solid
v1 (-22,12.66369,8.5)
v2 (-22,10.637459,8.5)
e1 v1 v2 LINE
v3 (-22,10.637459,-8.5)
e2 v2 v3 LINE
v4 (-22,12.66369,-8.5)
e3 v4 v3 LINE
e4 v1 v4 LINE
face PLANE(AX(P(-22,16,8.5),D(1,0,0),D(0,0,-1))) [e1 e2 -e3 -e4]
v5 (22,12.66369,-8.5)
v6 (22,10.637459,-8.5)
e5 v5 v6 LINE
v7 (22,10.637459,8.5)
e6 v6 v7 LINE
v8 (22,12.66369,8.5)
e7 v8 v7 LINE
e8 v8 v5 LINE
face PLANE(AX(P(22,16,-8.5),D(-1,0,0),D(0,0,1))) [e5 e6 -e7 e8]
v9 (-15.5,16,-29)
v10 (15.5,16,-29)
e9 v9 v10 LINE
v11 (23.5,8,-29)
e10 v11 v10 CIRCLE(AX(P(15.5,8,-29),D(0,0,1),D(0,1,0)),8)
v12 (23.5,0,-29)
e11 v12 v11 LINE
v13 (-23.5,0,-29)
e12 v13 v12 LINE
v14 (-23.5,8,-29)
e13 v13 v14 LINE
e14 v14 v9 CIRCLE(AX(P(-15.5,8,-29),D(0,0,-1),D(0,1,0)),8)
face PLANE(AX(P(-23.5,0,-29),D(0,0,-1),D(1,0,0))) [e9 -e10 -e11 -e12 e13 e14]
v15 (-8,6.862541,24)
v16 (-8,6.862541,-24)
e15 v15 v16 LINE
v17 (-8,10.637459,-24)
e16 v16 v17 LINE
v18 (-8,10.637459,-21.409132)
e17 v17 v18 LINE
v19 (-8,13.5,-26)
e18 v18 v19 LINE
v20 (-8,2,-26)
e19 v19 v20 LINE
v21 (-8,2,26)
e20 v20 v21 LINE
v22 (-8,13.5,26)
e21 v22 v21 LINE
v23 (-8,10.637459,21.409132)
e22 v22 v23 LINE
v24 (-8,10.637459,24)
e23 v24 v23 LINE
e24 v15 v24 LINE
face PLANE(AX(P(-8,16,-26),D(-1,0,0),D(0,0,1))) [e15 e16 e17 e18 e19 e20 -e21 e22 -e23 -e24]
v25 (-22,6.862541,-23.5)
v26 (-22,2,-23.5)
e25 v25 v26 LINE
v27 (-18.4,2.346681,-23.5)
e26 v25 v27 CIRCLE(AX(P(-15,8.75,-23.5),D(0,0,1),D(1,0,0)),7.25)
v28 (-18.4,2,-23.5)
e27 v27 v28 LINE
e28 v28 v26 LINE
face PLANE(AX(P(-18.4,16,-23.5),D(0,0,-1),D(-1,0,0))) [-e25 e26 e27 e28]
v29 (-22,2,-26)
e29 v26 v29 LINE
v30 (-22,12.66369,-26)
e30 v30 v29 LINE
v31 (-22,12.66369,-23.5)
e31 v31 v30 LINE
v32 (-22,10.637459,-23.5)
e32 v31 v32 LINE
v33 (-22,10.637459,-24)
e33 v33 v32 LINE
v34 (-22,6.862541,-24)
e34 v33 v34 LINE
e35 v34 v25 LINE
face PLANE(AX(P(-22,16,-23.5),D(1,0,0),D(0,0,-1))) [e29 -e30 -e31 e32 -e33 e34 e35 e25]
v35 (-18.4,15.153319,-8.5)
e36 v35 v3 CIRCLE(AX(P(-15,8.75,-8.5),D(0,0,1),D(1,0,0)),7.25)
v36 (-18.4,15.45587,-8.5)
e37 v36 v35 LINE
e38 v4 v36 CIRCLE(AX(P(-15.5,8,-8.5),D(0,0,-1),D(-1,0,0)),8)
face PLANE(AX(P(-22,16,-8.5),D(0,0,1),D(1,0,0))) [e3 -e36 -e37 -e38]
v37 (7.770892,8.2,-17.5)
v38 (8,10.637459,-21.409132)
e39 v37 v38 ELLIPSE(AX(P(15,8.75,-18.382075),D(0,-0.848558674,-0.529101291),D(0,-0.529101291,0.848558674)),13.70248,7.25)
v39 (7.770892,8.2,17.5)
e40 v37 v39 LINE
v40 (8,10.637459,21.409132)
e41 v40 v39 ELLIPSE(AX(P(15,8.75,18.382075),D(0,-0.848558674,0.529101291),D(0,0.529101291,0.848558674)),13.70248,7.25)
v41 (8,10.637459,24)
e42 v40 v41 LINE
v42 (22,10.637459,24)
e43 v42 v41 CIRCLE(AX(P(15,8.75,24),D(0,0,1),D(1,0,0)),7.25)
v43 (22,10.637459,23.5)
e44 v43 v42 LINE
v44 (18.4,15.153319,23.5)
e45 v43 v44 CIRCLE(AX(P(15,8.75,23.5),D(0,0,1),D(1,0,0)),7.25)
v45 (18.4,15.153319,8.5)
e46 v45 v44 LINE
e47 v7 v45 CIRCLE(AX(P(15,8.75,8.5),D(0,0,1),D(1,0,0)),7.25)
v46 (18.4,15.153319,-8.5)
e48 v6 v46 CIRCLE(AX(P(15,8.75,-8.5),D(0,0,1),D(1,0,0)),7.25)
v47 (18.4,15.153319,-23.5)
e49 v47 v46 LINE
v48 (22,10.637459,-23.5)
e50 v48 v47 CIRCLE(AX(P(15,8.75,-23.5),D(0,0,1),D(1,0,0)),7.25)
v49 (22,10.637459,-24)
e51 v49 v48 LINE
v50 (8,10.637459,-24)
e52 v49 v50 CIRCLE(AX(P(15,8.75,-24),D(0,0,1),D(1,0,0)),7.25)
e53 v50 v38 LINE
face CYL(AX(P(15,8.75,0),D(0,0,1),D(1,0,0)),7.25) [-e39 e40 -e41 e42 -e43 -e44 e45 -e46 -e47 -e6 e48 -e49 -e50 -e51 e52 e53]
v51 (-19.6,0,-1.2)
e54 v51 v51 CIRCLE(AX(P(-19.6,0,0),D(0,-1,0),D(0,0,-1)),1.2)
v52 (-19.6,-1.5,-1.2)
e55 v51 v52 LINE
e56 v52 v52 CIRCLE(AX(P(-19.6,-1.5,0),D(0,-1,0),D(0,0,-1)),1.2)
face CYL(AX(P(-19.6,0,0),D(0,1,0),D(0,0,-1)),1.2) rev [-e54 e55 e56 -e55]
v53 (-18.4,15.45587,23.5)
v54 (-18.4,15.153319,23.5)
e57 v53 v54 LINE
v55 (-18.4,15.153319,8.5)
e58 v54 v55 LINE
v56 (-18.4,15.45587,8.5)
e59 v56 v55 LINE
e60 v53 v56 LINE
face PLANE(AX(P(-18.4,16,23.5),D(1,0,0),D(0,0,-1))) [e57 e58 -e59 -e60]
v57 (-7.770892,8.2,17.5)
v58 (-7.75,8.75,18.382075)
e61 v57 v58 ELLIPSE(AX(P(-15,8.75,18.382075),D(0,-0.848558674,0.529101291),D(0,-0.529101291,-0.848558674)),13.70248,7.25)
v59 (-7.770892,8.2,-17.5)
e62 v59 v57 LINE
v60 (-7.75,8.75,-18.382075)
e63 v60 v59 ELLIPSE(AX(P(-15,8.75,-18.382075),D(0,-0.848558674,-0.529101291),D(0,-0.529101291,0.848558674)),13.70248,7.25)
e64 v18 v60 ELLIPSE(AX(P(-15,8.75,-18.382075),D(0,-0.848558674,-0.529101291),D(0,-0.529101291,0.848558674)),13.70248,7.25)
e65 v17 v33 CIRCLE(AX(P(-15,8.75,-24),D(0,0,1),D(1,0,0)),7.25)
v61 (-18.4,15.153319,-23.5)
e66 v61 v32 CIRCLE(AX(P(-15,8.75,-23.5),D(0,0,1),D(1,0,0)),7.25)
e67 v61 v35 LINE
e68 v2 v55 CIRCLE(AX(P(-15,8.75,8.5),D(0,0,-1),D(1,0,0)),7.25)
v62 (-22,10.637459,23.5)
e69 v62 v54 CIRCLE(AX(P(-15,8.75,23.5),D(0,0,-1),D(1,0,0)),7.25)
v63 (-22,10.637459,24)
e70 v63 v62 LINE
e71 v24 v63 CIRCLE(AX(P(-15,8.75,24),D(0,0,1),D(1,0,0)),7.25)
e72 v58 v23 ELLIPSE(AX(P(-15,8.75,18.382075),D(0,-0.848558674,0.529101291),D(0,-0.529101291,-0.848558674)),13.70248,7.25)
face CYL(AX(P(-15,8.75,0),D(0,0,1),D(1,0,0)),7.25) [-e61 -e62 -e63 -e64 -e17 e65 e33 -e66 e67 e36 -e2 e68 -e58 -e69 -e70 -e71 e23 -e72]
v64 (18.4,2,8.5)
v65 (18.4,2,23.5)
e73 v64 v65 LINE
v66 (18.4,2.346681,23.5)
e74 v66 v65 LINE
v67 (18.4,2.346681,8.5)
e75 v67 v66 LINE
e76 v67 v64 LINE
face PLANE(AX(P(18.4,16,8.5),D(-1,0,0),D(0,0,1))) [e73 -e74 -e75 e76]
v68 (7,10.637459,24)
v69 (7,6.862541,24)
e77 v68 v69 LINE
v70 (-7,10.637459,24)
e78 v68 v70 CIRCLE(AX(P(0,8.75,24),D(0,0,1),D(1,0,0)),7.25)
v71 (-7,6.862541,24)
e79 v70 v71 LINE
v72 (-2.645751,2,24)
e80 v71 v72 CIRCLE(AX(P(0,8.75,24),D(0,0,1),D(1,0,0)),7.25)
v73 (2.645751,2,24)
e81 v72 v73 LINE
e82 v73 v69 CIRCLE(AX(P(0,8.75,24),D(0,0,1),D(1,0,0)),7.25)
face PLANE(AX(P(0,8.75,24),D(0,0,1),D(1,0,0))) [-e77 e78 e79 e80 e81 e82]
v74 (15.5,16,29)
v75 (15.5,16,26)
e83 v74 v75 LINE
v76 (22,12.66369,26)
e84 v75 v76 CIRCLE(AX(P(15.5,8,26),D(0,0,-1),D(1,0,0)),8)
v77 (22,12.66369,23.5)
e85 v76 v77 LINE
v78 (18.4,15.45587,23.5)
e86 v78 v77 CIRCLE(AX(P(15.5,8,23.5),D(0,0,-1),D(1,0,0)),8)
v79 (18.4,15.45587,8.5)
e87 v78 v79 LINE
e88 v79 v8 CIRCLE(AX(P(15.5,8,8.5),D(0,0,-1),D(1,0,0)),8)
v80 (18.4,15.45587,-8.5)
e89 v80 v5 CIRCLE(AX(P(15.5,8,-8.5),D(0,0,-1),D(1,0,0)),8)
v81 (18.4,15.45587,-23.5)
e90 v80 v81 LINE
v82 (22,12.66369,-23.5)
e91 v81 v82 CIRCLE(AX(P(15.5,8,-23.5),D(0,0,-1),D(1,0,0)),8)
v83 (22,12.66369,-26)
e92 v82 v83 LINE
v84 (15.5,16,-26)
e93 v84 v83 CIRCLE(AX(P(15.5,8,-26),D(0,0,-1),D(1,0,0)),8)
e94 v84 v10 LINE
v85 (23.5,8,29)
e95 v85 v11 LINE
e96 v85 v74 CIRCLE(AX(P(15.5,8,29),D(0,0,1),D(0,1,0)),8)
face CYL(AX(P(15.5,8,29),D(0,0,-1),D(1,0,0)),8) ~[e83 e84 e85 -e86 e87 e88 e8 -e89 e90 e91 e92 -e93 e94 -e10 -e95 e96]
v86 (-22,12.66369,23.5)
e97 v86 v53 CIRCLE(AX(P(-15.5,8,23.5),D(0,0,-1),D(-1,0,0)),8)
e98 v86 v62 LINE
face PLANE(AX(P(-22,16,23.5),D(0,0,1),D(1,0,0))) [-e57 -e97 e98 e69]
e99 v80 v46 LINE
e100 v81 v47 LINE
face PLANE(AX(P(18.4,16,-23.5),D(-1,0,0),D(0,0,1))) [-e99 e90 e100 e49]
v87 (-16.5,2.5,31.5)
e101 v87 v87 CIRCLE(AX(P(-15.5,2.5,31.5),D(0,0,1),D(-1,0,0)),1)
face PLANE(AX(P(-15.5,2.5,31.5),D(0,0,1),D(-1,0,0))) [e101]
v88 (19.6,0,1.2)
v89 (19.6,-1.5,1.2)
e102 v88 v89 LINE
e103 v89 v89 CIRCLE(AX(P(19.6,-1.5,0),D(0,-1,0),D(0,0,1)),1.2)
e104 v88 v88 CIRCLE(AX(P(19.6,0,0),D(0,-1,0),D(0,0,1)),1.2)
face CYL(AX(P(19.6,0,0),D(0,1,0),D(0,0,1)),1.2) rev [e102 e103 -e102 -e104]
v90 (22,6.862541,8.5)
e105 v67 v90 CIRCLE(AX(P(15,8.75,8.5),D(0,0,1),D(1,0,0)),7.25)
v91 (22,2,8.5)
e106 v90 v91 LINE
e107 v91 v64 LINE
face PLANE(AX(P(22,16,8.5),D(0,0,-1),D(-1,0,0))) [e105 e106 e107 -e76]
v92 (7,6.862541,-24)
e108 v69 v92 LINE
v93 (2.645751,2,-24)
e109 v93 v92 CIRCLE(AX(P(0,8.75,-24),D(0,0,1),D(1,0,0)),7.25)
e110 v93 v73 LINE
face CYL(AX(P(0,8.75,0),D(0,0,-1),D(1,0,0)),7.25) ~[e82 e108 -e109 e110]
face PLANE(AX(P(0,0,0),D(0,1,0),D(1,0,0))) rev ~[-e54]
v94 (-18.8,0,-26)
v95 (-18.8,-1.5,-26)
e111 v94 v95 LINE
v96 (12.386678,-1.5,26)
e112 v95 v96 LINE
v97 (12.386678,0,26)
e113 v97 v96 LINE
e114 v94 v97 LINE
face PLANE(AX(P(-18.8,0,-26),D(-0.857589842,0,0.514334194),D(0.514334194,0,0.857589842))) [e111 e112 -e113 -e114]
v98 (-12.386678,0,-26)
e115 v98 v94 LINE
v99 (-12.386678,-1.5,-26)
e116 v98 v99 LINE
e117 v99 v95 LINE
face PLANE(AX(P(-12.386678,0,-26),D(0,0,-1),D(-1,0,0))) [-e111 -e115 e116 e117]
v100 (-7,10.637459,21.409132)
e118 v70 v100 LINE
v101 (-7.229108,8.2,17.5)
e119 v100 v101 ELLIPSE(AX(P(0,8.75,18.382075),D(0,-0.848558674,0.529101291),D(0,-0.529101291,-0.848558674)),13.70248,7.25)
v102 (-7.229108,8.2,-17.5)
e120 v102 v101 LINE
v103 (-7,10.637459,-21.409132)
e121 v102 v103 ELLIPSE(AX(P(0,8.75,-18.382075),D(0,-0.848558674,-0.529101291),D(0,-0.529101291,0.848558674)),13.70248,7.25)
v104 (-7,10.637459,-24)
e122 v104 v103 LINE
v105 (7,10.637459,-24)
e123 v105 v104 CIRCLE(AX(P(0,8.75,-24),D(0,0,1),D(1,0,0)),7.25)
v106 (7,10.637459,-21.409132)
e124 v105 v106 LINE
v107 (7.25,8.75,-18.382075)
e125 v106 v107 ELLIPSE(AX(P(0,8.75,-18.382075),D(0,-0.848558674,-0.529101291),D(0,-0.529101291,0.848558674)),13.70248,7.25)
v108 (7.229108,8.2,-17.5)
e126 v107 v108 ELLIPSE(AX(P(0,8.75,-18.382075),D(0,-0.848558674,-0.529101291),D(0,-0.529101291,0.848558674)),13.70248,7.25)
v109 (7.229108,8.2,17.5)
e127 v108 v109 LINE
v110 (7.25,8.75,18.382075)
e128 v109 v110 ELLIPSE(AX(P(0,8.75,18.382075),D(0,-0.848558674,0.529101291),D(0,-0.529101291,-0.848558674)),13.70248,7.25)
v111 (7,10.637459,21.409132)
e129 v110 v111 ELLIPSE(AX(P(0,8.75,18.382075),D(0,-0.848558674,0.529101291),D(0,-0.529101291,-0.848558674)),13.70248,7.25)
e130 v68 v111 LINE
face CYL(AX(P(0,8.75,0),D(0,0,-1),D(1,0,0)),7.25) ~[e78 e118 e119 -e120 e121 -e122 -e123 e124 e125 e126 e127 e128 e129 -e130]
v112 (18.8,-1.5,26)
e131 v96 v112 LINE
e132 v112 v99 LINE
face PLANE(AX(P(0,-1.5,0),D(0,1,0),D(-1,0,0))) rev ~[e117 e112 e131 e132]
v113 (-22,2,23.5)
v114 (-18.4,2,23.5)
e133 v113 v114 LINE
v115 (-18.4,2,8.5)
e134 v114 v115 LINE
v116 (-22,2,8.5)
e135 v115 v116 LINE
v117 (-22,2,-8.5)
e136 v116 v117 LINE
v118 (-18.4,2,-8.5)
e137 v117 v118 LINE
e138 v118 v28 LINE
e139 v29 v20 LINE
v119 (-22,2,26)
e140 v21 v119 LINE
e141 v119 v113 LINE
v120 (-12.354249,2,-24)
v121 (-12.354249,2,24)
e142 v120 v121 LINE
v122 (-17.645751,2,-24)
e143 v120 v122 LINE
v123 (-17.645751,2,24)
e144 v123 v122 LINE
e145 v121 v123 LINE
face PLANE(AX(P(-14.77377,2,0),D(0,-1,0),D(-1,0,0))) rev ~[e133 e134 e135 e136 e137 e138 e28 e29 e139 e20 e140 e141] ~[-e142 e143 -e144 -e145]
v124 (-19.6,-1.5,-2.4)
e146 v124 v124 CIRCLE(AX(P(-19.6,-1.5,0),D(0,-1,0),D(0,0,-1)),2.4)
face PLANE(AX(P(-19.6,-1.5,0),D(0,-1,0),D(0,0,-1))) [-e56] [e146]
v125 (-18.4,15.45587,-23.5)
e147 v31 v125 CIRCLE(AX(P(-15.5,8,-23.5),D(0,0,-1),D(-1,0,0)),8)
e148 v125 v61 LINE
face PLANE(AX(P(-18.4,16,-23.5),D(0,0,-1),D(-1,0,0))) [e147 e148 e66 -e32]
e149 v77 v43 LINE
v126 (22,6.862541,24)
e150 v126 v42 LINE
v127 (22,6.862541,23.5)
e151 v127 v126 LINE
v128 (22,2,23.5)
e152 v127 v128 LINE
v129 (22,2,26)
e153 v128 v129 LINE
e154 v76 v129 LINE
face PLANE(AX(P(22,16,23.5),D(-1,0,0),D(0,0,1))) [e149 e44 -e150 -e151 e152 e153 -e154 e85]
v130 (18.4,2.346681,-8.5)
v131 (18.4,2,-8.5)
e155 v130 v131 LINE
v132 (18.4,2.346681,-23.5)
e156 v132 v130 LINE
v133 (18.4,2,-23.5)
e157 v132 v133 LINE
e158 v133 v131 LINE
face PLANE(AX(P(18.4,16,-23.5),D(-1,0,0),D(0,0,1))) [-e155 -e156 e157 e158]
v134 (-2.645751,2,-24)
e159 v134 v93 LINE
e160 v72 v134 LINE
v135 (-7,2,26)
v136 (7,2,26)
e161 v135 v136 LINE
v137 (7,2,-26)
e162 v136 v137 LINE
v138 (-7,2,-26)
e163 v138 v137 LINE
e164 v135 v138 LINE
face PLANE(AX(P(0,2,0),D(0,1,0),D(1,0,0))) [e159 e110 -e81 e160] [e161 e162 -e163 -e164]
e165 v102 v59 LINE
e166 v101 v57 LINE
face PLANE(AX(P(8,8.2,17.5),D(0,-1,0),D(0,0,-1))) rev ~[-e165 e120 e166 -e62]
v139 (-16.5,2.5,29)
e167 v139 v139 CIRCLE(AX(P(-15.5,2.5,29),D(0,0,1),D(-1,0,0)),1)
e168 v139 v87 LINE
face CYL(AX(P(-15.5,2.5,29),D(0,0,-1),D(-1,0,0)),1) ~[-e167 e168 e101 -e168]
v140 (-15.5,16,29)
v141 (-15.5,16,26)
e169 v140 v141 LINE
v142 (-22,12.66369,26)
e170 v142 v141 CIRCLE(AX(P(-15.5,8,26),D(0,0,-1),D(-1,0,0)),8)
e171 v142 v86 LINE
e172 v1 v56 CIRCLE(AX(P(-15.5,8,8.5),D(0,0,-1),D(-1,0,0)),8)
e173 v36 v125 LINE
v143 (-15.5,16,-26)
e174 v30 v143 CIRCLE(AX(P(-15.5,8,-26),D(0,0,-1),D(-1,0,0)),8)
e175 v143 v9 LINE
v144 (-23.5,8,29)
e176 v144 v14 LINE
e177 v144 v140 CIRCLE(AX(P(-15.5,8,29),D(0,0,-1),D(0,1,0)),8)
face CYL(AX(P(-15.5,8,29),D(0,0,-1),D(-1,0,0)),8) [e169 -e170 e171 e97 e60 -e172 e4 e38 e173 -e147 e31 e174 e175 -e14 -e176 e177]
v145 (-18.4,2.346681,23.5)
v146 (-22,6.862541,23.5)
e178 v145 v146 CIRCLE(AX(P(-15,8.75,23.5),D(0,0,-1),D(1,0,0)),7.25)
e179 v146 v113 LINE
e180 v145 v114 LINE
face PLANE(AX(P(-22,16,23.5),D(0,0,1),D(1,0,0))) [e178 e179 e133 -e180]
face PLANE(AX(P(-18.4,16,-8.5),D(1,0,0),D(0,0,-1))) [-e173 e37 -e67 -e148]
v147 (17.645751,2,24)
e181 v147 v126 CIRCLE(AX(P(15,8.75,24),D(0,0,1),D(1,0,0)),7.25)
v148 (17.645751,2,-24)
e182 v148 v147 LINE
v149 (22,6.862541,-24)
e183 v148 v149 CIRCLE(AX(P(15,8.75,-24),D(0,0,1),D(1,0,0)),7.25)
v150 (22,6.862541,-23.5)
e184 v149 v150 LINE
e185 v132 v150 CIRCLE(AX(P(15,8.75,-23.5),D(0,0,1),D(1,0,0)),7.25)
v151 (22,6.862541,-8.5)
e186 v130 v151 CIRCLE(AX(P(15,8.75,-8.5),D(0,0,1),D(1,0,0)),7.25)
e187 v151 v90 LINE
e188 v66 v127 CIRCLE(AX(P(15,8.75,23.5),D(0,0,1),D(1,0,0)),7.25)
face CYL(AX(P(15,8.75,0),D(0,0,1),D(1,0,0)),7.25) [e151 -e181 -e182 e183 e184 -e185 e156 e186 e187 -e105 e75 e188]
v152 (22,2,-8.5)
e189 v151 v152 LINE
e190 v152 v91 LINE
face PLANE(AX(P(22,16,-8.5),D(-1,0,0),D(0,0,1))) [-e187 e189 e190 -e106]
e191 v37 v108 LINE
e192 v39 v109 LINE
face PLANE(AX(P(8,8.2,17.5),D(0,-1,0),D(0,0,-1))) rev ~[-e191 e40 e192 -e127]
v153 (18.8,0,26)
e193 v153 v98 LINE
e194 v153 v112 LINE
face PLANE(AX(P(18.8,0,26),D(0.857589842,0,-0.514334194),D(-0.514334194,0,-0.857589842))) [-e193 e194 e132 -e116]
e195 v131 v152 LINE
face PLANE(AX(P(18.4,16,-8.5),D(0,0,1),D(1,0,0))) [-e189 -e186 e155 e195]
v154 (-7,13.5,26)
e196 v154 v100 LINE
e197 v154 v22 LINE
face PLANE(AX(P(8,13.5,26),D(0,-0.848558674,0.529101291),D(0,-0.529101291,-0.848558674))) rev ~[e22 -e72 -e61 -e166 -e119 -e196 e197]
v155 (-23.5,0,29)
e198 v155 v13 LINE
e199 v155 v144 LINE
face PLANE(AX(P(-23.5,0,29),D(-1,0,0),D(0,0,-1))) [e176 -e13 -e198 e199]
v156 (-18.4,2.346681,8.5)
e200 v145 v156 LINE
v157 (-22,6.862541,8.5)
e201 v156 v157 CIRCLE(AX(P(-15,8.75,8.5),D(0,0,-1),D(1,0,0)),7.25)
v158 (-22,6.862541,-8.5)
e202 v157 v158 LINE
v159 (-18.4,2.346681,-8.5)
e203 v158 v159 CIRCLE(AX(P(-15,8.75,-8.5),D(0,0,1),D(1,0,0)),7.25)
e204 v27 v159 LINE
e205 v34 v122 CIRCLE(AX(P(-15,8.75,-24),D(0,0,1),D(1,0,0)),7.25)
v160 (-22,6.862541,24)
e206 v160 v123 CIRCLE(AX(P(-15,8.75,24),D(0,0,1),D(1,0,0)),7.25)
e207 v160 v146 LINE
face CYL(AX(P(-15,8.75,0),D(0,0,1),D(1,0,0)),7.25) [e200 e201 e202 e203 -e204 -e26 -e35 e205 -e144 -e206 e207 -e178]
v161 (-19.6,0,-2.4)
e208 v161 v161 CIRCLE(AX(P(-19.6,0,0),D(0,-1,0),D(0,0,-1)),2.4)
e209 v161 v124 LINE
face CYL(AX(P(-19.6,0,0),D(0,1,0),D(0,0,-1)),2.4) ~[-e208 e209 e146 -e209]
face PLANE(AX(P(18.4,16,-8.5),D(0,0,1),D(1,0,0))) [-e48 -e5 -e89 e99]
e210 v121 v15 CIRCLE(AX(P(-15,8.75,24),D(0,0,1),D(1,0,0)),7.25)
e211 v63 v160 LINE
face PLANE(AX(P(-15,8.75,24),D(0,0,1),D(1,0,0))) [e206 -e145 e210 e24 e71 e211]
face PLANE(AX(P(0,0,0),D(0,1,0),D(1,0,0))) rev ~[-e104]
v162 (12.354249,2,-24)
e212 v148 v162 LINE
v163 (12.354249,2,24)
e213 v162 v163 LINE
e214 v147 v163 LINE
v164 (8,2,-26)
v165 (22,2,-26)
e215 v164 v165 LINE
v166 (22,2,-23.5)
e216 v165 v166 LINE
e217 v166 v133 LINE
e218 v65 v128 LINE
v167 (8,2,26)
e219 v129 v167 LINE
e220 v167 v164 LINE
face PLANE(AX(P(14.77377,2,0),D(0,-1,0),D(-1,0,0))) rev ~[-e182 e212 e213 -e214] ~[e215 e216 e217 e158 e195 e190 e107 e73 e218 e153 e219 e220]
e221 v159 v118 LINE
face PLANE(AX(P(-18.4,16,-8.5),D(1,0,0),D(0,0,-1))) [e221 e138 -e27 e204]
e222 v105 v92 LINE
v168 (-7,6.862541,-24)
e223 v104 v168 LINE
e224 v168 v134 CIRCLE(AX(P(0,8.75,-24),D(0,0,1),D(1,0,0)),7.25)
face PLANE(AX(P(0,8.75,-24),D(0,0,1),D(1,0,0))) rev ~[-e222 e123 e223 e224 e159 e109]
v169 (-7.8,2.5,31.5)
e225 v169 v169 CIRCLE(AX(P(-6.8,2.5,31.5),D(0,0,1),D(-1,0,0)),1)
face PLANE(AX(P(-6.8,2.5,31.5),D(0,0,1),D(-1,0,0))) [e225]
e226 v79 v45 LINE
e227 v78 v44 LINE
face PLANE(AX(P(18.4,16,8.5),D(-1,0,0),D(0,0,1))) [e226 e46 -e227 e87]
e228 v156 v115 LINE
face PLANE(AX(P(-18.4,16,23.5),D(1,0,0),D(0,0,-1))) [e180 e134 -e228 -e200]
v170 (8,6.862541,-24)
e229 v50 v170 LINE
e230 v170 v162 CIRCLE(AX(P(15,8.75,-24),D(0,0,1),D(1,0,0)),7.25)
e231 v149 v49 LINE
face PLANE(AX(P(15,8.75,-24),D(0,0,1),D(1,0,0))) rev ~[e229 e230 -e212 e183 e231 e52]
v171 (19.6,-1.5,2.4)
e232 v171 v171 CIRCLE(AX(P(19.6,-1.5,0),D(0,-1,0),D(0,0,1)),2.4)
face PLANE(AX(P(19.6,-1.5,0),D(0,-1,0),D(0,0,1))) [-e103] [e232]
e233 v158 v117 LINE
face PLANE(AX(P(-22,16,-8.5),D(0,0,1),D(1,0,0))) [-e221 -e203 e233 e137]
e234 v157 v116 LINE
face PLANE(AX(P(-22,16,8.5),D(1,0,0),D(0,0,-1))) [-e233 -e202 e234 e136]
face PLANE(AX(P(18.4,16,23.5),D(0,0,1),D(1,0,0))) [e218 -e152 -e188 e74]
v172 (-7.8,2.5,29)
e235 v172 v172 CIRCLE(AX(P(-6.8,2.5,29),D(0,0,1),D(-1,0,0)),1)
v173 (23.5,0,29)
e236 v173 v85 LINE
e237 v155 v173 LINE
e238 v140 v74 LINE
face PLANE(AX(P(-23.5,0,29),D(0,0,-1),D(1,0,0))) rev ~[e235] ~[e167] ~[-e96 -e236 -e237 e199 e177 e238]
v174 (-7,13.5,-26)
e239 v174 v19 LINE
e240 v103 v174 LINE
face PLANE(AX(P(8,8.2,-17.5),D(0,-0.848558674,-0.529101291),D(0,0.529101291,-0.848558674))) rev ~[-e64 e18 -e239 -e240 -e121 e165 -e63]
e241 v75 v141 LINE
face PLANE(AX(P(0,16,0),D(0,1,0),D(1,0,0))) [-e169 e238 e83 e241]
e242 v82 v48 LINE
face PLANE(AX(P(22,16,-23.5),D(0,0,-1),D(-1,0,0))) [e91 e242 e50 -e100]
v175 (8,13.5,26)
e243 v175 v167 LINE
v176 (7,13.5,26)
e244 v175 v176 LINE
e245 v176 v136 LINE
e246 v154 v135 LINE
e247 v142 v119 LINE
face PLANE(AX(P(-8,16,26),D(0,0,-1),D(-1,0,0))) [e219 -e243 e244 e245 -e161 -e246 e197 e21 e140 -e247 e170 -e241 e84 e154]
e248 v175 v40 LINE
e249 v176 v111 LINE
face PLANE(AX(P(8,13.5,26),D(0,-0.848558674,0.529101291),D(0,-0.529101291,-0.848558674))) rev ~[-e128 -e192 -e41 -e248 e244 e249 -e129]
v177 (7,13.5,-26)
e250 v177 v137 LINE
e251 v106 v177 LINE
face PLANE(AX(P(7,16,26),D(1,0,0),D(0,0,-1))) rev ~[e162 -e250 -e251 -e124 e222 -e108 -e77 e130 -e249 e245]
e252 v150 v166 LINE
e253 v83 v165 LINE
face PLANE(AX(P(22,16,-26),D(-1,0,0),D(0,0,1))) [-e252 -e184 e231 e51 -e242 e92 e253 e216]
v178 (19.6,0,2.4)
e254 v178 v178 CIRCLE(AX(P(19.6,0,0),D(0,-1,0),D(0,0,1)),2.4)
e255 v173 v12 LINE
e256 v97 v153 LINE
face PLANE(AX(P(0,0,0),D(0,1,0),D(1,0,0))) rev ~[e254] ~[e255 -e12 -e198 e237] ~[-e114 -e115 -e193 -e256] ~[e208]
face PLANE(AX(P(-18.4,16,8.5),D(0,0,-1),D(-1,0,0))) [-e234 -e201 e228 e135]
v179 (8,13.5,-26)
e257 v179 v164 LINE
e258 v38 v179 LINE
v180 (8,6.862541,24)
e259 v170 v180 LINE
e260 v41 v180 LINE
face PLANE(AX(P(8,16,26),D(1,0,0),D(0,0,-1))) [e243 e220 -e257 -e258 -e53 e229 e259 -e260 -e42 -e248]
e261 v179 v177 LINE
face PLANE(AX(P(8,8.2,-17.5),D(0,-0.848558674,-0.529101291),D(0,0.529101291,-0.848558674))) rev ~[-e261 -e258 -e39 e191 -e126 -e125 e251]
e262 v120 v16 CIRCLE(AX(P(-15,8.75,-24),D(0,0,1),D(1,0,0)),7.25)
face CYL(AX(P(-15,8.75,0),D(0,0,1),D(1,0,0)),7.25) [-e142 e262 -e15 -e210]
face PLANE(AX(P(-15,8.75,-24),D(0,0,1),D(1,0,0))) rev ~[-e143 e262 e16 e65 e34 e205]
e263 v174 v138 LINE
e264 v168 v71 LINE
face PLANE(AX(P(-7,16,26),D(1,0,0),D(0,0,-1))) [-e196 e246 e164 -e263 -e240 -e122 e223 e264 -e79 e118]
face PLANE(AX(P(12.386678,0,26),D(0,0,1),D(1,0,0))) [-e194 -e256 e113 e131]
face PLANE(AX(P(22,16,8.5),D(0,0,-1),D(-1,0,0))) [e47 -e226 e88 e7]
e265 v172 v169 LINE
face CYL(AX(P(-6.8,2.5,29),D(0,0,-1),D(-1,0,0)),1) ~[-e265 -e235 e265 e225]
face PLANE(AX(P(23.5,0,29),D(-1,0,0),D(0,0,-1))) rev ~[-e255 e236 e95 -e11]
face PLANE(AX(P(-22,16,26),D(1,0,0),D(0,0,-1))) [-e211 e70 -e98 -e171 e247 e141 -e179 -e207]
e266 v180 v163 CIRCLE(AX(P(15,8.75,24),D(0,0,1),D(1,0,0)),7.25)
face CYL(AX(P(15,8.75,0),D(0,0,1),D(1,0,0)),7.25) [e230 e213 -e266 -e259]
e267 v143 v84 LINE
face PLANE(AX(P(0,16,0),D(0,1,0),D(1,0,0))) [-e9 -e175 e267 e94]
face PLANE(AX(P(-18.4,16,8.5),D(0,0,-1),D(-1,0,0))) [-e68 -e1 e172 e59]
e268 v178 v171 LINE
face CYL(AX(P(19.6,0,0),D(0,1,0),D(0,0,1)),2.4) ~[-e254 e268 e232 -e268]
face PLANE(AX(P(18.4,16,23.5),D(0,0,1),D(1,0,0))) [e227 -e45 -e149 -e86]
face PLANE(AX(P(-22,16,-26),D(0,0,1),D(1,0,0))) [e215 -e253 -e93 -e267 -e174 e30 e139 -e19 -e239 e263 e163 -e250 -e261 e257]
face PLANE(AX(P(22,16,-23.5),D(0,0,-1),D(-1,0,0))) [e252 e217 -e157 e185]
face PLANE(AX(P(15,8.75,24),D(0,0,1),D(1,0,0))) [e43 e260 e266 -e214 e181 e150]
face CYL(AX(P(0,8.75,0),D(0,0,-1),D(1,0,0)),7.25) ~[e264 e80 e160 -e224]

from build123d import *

# Parameters (mm, degrees)
SKETCH1_W           = 47
SKETCH1_H           = 58
BOSS_EXTRUDE1_DEPTH = 16
FILLET1_R           = 8
SKETCH2_W           = 14
SKETCH2_H           = 52
CUT_EXTRUDE1_DEPTH  = 14
CUT_EXTRUDE2_REACH  = 47.708
SKETCH4_R           = 7.25
BOSS_EXTRUDE3_DEPTH = 24
SKETCH5_R           = 2.4
SKETCH5_R_2         = 1.2
BOSS_EXTRUDE4_DEPTH = 1.5
SKETCH6_R           = 1
BOSS_EXTRUDE5_DEPTH = 2.5


with BuildPart() as part:
    # Sketch1 → Boss-Extrude1 (new body)
    with BuildSketch(Plane(origin=(0, 0, 0), x_dir=(1, 0, 0), z_dir=(0, 1, 0))):
        Rectangle(SKETCH1_W, SKETCH1_H)
    extrude(amount=BOSS_EXTRUDE1_DEPTH)

    # Fillet1
    fillet1_edges = [part.edges().sort_by_distance(p)[0] for p in [
        (-23.5, 16, 0),
        (23.5, 16, 0),
    ]]
    fillet(fillet1_edges, radius=FILLET1_R)

    # Sketch2 → Cut-Extrude1 (cut)
    with BuildSketch(Plane(origin=(0, 16, 0), x_dir=(1, 0, 0), z_dir=(0, 1, 0))):
        Polygon((-22, 26), (-8, 26), (-8, -26), (-22, -26), (-22, -23.5), (-18.4, -23.5), (-18.4, -8.5), (-22, -8.5), (-22, 8.5), (-18.4, 8.5), (-18.4, 23.5), (-22, 23.5), align=None)
        Rectangle(SKETCH2_W, SKETCH2_H)
        Polygon((8, 26), (22, 26), (22, 23.5), (18.4, 23.5), (18.4, 8.5), (22, 8.5), (22, -8.5), (18.4, -8.5), (18.4, -23.5), (22, -23.5), (22, -26), (8, -26), align=None)
    extrude(amount=-CUT_EXTRUDE1_DEPTH, mode=Mode.SUBTRACT)

    # Cut-Extrude2: up to this face of the body (flat: up to its plane)
    cut_extrude2_end = Plane(part.part.faces().sort_by_distance((-8, 9, 0))[0])
    # Sketch3 → Cut-Extrude2 (cut, up to the picked face)
    with BuildSketch(Plane(origin=(8, 0, 0), x_dir=(0, 0, -1), z_dir=(1, 0, 0)), mode=Mode.PRIVATE) as cut_extrude2_sk1:
        Polygon((-26, 16), (-26, 13.5), (-17.5, 8.2), (17.5, 8.2), (26, 13.5), (26, 16), align=None)
    cut_extrude2_tool1 = split(extrude(cut_extrude2_sk1.sketch, amount=-CUT_EXTRUDE2_REACH, mode=Mode.PRIVATE), bisect_by=cut_extrude2_end, keep=Keep.BOTH, mode=Mode.PRIVATE)
    add(cut_extrude2_tool1.solids().sort_by(Axis((8, 12.366556, 0), (-1, 0, 0)))[0], mode=Mode.SUBTRACT)

    # Sketch4 → Boss-Extrude3 (add, symmetric)
    with BuildSketch(Plane.XY):
        with Locations((-15, 8.75)):
            Circle(SKETCH4_R)
        with Locations((0, 8.75)):
            Circle(SKETCH4_R)
        with Locations((15, 8.75)):
            Circle(SKETCH4_R)
    extrude(amount=BOSS_EXTRUDE3_DEPTH, both=True)

    # Sketch5 → Boss-Extrude4 (add)
    # profile 1 of 3: a face of its own
    with BuildSketch(Plane.XZ):
        with Locations(Location((-19.6, 0, 0), (0, 0, 270))):
            Circle(SKETCH5_R)
        with Locations(Location((-19.6, 0, 0), (0, 0, 270))):
            Circle(SKETCH5_R_2, mode=Mode.SUBTRACT)
    # profile 2 of 3: a face of its own
    with BuildSketch(Plane.XZ):
        with Locations(Location((19.6, 0, 0), (0, 0, 90))):
            Circle(SKETCH5_R)
        with Locations(Location((19.6, 0, 0), (0, 0, 90))):
            Circle(SKETCH5_R_2, mode=Mode.SUBTRACT)
    # profile 3 of 3: a face of its own
    with BuildSketch(Plane.XZ):
        Polygon((-18.8, -26), (12.386677769, 26), (18.8, 26), (-12.386677769, -26), align=None)
    extrude(amount=BOSS_EXTRUDE4_DEPTH)

    # Sketch6 → Boss-Extrude5 (add)
    with BuildSketch(Plane.XY.offset(29)):
        with Locations(Location((-15.5, 2.5, 0), (0, 0, 180))):
            Circle(SKETCH6_R)
        with Locations(Location((-6.8, 2.5, 0), (0, 0, 180))):
            Circle(SKETCH6_R)
    extrude(amount=BOSS_EXTRUDE5_DEPTH)


solid = part.part
